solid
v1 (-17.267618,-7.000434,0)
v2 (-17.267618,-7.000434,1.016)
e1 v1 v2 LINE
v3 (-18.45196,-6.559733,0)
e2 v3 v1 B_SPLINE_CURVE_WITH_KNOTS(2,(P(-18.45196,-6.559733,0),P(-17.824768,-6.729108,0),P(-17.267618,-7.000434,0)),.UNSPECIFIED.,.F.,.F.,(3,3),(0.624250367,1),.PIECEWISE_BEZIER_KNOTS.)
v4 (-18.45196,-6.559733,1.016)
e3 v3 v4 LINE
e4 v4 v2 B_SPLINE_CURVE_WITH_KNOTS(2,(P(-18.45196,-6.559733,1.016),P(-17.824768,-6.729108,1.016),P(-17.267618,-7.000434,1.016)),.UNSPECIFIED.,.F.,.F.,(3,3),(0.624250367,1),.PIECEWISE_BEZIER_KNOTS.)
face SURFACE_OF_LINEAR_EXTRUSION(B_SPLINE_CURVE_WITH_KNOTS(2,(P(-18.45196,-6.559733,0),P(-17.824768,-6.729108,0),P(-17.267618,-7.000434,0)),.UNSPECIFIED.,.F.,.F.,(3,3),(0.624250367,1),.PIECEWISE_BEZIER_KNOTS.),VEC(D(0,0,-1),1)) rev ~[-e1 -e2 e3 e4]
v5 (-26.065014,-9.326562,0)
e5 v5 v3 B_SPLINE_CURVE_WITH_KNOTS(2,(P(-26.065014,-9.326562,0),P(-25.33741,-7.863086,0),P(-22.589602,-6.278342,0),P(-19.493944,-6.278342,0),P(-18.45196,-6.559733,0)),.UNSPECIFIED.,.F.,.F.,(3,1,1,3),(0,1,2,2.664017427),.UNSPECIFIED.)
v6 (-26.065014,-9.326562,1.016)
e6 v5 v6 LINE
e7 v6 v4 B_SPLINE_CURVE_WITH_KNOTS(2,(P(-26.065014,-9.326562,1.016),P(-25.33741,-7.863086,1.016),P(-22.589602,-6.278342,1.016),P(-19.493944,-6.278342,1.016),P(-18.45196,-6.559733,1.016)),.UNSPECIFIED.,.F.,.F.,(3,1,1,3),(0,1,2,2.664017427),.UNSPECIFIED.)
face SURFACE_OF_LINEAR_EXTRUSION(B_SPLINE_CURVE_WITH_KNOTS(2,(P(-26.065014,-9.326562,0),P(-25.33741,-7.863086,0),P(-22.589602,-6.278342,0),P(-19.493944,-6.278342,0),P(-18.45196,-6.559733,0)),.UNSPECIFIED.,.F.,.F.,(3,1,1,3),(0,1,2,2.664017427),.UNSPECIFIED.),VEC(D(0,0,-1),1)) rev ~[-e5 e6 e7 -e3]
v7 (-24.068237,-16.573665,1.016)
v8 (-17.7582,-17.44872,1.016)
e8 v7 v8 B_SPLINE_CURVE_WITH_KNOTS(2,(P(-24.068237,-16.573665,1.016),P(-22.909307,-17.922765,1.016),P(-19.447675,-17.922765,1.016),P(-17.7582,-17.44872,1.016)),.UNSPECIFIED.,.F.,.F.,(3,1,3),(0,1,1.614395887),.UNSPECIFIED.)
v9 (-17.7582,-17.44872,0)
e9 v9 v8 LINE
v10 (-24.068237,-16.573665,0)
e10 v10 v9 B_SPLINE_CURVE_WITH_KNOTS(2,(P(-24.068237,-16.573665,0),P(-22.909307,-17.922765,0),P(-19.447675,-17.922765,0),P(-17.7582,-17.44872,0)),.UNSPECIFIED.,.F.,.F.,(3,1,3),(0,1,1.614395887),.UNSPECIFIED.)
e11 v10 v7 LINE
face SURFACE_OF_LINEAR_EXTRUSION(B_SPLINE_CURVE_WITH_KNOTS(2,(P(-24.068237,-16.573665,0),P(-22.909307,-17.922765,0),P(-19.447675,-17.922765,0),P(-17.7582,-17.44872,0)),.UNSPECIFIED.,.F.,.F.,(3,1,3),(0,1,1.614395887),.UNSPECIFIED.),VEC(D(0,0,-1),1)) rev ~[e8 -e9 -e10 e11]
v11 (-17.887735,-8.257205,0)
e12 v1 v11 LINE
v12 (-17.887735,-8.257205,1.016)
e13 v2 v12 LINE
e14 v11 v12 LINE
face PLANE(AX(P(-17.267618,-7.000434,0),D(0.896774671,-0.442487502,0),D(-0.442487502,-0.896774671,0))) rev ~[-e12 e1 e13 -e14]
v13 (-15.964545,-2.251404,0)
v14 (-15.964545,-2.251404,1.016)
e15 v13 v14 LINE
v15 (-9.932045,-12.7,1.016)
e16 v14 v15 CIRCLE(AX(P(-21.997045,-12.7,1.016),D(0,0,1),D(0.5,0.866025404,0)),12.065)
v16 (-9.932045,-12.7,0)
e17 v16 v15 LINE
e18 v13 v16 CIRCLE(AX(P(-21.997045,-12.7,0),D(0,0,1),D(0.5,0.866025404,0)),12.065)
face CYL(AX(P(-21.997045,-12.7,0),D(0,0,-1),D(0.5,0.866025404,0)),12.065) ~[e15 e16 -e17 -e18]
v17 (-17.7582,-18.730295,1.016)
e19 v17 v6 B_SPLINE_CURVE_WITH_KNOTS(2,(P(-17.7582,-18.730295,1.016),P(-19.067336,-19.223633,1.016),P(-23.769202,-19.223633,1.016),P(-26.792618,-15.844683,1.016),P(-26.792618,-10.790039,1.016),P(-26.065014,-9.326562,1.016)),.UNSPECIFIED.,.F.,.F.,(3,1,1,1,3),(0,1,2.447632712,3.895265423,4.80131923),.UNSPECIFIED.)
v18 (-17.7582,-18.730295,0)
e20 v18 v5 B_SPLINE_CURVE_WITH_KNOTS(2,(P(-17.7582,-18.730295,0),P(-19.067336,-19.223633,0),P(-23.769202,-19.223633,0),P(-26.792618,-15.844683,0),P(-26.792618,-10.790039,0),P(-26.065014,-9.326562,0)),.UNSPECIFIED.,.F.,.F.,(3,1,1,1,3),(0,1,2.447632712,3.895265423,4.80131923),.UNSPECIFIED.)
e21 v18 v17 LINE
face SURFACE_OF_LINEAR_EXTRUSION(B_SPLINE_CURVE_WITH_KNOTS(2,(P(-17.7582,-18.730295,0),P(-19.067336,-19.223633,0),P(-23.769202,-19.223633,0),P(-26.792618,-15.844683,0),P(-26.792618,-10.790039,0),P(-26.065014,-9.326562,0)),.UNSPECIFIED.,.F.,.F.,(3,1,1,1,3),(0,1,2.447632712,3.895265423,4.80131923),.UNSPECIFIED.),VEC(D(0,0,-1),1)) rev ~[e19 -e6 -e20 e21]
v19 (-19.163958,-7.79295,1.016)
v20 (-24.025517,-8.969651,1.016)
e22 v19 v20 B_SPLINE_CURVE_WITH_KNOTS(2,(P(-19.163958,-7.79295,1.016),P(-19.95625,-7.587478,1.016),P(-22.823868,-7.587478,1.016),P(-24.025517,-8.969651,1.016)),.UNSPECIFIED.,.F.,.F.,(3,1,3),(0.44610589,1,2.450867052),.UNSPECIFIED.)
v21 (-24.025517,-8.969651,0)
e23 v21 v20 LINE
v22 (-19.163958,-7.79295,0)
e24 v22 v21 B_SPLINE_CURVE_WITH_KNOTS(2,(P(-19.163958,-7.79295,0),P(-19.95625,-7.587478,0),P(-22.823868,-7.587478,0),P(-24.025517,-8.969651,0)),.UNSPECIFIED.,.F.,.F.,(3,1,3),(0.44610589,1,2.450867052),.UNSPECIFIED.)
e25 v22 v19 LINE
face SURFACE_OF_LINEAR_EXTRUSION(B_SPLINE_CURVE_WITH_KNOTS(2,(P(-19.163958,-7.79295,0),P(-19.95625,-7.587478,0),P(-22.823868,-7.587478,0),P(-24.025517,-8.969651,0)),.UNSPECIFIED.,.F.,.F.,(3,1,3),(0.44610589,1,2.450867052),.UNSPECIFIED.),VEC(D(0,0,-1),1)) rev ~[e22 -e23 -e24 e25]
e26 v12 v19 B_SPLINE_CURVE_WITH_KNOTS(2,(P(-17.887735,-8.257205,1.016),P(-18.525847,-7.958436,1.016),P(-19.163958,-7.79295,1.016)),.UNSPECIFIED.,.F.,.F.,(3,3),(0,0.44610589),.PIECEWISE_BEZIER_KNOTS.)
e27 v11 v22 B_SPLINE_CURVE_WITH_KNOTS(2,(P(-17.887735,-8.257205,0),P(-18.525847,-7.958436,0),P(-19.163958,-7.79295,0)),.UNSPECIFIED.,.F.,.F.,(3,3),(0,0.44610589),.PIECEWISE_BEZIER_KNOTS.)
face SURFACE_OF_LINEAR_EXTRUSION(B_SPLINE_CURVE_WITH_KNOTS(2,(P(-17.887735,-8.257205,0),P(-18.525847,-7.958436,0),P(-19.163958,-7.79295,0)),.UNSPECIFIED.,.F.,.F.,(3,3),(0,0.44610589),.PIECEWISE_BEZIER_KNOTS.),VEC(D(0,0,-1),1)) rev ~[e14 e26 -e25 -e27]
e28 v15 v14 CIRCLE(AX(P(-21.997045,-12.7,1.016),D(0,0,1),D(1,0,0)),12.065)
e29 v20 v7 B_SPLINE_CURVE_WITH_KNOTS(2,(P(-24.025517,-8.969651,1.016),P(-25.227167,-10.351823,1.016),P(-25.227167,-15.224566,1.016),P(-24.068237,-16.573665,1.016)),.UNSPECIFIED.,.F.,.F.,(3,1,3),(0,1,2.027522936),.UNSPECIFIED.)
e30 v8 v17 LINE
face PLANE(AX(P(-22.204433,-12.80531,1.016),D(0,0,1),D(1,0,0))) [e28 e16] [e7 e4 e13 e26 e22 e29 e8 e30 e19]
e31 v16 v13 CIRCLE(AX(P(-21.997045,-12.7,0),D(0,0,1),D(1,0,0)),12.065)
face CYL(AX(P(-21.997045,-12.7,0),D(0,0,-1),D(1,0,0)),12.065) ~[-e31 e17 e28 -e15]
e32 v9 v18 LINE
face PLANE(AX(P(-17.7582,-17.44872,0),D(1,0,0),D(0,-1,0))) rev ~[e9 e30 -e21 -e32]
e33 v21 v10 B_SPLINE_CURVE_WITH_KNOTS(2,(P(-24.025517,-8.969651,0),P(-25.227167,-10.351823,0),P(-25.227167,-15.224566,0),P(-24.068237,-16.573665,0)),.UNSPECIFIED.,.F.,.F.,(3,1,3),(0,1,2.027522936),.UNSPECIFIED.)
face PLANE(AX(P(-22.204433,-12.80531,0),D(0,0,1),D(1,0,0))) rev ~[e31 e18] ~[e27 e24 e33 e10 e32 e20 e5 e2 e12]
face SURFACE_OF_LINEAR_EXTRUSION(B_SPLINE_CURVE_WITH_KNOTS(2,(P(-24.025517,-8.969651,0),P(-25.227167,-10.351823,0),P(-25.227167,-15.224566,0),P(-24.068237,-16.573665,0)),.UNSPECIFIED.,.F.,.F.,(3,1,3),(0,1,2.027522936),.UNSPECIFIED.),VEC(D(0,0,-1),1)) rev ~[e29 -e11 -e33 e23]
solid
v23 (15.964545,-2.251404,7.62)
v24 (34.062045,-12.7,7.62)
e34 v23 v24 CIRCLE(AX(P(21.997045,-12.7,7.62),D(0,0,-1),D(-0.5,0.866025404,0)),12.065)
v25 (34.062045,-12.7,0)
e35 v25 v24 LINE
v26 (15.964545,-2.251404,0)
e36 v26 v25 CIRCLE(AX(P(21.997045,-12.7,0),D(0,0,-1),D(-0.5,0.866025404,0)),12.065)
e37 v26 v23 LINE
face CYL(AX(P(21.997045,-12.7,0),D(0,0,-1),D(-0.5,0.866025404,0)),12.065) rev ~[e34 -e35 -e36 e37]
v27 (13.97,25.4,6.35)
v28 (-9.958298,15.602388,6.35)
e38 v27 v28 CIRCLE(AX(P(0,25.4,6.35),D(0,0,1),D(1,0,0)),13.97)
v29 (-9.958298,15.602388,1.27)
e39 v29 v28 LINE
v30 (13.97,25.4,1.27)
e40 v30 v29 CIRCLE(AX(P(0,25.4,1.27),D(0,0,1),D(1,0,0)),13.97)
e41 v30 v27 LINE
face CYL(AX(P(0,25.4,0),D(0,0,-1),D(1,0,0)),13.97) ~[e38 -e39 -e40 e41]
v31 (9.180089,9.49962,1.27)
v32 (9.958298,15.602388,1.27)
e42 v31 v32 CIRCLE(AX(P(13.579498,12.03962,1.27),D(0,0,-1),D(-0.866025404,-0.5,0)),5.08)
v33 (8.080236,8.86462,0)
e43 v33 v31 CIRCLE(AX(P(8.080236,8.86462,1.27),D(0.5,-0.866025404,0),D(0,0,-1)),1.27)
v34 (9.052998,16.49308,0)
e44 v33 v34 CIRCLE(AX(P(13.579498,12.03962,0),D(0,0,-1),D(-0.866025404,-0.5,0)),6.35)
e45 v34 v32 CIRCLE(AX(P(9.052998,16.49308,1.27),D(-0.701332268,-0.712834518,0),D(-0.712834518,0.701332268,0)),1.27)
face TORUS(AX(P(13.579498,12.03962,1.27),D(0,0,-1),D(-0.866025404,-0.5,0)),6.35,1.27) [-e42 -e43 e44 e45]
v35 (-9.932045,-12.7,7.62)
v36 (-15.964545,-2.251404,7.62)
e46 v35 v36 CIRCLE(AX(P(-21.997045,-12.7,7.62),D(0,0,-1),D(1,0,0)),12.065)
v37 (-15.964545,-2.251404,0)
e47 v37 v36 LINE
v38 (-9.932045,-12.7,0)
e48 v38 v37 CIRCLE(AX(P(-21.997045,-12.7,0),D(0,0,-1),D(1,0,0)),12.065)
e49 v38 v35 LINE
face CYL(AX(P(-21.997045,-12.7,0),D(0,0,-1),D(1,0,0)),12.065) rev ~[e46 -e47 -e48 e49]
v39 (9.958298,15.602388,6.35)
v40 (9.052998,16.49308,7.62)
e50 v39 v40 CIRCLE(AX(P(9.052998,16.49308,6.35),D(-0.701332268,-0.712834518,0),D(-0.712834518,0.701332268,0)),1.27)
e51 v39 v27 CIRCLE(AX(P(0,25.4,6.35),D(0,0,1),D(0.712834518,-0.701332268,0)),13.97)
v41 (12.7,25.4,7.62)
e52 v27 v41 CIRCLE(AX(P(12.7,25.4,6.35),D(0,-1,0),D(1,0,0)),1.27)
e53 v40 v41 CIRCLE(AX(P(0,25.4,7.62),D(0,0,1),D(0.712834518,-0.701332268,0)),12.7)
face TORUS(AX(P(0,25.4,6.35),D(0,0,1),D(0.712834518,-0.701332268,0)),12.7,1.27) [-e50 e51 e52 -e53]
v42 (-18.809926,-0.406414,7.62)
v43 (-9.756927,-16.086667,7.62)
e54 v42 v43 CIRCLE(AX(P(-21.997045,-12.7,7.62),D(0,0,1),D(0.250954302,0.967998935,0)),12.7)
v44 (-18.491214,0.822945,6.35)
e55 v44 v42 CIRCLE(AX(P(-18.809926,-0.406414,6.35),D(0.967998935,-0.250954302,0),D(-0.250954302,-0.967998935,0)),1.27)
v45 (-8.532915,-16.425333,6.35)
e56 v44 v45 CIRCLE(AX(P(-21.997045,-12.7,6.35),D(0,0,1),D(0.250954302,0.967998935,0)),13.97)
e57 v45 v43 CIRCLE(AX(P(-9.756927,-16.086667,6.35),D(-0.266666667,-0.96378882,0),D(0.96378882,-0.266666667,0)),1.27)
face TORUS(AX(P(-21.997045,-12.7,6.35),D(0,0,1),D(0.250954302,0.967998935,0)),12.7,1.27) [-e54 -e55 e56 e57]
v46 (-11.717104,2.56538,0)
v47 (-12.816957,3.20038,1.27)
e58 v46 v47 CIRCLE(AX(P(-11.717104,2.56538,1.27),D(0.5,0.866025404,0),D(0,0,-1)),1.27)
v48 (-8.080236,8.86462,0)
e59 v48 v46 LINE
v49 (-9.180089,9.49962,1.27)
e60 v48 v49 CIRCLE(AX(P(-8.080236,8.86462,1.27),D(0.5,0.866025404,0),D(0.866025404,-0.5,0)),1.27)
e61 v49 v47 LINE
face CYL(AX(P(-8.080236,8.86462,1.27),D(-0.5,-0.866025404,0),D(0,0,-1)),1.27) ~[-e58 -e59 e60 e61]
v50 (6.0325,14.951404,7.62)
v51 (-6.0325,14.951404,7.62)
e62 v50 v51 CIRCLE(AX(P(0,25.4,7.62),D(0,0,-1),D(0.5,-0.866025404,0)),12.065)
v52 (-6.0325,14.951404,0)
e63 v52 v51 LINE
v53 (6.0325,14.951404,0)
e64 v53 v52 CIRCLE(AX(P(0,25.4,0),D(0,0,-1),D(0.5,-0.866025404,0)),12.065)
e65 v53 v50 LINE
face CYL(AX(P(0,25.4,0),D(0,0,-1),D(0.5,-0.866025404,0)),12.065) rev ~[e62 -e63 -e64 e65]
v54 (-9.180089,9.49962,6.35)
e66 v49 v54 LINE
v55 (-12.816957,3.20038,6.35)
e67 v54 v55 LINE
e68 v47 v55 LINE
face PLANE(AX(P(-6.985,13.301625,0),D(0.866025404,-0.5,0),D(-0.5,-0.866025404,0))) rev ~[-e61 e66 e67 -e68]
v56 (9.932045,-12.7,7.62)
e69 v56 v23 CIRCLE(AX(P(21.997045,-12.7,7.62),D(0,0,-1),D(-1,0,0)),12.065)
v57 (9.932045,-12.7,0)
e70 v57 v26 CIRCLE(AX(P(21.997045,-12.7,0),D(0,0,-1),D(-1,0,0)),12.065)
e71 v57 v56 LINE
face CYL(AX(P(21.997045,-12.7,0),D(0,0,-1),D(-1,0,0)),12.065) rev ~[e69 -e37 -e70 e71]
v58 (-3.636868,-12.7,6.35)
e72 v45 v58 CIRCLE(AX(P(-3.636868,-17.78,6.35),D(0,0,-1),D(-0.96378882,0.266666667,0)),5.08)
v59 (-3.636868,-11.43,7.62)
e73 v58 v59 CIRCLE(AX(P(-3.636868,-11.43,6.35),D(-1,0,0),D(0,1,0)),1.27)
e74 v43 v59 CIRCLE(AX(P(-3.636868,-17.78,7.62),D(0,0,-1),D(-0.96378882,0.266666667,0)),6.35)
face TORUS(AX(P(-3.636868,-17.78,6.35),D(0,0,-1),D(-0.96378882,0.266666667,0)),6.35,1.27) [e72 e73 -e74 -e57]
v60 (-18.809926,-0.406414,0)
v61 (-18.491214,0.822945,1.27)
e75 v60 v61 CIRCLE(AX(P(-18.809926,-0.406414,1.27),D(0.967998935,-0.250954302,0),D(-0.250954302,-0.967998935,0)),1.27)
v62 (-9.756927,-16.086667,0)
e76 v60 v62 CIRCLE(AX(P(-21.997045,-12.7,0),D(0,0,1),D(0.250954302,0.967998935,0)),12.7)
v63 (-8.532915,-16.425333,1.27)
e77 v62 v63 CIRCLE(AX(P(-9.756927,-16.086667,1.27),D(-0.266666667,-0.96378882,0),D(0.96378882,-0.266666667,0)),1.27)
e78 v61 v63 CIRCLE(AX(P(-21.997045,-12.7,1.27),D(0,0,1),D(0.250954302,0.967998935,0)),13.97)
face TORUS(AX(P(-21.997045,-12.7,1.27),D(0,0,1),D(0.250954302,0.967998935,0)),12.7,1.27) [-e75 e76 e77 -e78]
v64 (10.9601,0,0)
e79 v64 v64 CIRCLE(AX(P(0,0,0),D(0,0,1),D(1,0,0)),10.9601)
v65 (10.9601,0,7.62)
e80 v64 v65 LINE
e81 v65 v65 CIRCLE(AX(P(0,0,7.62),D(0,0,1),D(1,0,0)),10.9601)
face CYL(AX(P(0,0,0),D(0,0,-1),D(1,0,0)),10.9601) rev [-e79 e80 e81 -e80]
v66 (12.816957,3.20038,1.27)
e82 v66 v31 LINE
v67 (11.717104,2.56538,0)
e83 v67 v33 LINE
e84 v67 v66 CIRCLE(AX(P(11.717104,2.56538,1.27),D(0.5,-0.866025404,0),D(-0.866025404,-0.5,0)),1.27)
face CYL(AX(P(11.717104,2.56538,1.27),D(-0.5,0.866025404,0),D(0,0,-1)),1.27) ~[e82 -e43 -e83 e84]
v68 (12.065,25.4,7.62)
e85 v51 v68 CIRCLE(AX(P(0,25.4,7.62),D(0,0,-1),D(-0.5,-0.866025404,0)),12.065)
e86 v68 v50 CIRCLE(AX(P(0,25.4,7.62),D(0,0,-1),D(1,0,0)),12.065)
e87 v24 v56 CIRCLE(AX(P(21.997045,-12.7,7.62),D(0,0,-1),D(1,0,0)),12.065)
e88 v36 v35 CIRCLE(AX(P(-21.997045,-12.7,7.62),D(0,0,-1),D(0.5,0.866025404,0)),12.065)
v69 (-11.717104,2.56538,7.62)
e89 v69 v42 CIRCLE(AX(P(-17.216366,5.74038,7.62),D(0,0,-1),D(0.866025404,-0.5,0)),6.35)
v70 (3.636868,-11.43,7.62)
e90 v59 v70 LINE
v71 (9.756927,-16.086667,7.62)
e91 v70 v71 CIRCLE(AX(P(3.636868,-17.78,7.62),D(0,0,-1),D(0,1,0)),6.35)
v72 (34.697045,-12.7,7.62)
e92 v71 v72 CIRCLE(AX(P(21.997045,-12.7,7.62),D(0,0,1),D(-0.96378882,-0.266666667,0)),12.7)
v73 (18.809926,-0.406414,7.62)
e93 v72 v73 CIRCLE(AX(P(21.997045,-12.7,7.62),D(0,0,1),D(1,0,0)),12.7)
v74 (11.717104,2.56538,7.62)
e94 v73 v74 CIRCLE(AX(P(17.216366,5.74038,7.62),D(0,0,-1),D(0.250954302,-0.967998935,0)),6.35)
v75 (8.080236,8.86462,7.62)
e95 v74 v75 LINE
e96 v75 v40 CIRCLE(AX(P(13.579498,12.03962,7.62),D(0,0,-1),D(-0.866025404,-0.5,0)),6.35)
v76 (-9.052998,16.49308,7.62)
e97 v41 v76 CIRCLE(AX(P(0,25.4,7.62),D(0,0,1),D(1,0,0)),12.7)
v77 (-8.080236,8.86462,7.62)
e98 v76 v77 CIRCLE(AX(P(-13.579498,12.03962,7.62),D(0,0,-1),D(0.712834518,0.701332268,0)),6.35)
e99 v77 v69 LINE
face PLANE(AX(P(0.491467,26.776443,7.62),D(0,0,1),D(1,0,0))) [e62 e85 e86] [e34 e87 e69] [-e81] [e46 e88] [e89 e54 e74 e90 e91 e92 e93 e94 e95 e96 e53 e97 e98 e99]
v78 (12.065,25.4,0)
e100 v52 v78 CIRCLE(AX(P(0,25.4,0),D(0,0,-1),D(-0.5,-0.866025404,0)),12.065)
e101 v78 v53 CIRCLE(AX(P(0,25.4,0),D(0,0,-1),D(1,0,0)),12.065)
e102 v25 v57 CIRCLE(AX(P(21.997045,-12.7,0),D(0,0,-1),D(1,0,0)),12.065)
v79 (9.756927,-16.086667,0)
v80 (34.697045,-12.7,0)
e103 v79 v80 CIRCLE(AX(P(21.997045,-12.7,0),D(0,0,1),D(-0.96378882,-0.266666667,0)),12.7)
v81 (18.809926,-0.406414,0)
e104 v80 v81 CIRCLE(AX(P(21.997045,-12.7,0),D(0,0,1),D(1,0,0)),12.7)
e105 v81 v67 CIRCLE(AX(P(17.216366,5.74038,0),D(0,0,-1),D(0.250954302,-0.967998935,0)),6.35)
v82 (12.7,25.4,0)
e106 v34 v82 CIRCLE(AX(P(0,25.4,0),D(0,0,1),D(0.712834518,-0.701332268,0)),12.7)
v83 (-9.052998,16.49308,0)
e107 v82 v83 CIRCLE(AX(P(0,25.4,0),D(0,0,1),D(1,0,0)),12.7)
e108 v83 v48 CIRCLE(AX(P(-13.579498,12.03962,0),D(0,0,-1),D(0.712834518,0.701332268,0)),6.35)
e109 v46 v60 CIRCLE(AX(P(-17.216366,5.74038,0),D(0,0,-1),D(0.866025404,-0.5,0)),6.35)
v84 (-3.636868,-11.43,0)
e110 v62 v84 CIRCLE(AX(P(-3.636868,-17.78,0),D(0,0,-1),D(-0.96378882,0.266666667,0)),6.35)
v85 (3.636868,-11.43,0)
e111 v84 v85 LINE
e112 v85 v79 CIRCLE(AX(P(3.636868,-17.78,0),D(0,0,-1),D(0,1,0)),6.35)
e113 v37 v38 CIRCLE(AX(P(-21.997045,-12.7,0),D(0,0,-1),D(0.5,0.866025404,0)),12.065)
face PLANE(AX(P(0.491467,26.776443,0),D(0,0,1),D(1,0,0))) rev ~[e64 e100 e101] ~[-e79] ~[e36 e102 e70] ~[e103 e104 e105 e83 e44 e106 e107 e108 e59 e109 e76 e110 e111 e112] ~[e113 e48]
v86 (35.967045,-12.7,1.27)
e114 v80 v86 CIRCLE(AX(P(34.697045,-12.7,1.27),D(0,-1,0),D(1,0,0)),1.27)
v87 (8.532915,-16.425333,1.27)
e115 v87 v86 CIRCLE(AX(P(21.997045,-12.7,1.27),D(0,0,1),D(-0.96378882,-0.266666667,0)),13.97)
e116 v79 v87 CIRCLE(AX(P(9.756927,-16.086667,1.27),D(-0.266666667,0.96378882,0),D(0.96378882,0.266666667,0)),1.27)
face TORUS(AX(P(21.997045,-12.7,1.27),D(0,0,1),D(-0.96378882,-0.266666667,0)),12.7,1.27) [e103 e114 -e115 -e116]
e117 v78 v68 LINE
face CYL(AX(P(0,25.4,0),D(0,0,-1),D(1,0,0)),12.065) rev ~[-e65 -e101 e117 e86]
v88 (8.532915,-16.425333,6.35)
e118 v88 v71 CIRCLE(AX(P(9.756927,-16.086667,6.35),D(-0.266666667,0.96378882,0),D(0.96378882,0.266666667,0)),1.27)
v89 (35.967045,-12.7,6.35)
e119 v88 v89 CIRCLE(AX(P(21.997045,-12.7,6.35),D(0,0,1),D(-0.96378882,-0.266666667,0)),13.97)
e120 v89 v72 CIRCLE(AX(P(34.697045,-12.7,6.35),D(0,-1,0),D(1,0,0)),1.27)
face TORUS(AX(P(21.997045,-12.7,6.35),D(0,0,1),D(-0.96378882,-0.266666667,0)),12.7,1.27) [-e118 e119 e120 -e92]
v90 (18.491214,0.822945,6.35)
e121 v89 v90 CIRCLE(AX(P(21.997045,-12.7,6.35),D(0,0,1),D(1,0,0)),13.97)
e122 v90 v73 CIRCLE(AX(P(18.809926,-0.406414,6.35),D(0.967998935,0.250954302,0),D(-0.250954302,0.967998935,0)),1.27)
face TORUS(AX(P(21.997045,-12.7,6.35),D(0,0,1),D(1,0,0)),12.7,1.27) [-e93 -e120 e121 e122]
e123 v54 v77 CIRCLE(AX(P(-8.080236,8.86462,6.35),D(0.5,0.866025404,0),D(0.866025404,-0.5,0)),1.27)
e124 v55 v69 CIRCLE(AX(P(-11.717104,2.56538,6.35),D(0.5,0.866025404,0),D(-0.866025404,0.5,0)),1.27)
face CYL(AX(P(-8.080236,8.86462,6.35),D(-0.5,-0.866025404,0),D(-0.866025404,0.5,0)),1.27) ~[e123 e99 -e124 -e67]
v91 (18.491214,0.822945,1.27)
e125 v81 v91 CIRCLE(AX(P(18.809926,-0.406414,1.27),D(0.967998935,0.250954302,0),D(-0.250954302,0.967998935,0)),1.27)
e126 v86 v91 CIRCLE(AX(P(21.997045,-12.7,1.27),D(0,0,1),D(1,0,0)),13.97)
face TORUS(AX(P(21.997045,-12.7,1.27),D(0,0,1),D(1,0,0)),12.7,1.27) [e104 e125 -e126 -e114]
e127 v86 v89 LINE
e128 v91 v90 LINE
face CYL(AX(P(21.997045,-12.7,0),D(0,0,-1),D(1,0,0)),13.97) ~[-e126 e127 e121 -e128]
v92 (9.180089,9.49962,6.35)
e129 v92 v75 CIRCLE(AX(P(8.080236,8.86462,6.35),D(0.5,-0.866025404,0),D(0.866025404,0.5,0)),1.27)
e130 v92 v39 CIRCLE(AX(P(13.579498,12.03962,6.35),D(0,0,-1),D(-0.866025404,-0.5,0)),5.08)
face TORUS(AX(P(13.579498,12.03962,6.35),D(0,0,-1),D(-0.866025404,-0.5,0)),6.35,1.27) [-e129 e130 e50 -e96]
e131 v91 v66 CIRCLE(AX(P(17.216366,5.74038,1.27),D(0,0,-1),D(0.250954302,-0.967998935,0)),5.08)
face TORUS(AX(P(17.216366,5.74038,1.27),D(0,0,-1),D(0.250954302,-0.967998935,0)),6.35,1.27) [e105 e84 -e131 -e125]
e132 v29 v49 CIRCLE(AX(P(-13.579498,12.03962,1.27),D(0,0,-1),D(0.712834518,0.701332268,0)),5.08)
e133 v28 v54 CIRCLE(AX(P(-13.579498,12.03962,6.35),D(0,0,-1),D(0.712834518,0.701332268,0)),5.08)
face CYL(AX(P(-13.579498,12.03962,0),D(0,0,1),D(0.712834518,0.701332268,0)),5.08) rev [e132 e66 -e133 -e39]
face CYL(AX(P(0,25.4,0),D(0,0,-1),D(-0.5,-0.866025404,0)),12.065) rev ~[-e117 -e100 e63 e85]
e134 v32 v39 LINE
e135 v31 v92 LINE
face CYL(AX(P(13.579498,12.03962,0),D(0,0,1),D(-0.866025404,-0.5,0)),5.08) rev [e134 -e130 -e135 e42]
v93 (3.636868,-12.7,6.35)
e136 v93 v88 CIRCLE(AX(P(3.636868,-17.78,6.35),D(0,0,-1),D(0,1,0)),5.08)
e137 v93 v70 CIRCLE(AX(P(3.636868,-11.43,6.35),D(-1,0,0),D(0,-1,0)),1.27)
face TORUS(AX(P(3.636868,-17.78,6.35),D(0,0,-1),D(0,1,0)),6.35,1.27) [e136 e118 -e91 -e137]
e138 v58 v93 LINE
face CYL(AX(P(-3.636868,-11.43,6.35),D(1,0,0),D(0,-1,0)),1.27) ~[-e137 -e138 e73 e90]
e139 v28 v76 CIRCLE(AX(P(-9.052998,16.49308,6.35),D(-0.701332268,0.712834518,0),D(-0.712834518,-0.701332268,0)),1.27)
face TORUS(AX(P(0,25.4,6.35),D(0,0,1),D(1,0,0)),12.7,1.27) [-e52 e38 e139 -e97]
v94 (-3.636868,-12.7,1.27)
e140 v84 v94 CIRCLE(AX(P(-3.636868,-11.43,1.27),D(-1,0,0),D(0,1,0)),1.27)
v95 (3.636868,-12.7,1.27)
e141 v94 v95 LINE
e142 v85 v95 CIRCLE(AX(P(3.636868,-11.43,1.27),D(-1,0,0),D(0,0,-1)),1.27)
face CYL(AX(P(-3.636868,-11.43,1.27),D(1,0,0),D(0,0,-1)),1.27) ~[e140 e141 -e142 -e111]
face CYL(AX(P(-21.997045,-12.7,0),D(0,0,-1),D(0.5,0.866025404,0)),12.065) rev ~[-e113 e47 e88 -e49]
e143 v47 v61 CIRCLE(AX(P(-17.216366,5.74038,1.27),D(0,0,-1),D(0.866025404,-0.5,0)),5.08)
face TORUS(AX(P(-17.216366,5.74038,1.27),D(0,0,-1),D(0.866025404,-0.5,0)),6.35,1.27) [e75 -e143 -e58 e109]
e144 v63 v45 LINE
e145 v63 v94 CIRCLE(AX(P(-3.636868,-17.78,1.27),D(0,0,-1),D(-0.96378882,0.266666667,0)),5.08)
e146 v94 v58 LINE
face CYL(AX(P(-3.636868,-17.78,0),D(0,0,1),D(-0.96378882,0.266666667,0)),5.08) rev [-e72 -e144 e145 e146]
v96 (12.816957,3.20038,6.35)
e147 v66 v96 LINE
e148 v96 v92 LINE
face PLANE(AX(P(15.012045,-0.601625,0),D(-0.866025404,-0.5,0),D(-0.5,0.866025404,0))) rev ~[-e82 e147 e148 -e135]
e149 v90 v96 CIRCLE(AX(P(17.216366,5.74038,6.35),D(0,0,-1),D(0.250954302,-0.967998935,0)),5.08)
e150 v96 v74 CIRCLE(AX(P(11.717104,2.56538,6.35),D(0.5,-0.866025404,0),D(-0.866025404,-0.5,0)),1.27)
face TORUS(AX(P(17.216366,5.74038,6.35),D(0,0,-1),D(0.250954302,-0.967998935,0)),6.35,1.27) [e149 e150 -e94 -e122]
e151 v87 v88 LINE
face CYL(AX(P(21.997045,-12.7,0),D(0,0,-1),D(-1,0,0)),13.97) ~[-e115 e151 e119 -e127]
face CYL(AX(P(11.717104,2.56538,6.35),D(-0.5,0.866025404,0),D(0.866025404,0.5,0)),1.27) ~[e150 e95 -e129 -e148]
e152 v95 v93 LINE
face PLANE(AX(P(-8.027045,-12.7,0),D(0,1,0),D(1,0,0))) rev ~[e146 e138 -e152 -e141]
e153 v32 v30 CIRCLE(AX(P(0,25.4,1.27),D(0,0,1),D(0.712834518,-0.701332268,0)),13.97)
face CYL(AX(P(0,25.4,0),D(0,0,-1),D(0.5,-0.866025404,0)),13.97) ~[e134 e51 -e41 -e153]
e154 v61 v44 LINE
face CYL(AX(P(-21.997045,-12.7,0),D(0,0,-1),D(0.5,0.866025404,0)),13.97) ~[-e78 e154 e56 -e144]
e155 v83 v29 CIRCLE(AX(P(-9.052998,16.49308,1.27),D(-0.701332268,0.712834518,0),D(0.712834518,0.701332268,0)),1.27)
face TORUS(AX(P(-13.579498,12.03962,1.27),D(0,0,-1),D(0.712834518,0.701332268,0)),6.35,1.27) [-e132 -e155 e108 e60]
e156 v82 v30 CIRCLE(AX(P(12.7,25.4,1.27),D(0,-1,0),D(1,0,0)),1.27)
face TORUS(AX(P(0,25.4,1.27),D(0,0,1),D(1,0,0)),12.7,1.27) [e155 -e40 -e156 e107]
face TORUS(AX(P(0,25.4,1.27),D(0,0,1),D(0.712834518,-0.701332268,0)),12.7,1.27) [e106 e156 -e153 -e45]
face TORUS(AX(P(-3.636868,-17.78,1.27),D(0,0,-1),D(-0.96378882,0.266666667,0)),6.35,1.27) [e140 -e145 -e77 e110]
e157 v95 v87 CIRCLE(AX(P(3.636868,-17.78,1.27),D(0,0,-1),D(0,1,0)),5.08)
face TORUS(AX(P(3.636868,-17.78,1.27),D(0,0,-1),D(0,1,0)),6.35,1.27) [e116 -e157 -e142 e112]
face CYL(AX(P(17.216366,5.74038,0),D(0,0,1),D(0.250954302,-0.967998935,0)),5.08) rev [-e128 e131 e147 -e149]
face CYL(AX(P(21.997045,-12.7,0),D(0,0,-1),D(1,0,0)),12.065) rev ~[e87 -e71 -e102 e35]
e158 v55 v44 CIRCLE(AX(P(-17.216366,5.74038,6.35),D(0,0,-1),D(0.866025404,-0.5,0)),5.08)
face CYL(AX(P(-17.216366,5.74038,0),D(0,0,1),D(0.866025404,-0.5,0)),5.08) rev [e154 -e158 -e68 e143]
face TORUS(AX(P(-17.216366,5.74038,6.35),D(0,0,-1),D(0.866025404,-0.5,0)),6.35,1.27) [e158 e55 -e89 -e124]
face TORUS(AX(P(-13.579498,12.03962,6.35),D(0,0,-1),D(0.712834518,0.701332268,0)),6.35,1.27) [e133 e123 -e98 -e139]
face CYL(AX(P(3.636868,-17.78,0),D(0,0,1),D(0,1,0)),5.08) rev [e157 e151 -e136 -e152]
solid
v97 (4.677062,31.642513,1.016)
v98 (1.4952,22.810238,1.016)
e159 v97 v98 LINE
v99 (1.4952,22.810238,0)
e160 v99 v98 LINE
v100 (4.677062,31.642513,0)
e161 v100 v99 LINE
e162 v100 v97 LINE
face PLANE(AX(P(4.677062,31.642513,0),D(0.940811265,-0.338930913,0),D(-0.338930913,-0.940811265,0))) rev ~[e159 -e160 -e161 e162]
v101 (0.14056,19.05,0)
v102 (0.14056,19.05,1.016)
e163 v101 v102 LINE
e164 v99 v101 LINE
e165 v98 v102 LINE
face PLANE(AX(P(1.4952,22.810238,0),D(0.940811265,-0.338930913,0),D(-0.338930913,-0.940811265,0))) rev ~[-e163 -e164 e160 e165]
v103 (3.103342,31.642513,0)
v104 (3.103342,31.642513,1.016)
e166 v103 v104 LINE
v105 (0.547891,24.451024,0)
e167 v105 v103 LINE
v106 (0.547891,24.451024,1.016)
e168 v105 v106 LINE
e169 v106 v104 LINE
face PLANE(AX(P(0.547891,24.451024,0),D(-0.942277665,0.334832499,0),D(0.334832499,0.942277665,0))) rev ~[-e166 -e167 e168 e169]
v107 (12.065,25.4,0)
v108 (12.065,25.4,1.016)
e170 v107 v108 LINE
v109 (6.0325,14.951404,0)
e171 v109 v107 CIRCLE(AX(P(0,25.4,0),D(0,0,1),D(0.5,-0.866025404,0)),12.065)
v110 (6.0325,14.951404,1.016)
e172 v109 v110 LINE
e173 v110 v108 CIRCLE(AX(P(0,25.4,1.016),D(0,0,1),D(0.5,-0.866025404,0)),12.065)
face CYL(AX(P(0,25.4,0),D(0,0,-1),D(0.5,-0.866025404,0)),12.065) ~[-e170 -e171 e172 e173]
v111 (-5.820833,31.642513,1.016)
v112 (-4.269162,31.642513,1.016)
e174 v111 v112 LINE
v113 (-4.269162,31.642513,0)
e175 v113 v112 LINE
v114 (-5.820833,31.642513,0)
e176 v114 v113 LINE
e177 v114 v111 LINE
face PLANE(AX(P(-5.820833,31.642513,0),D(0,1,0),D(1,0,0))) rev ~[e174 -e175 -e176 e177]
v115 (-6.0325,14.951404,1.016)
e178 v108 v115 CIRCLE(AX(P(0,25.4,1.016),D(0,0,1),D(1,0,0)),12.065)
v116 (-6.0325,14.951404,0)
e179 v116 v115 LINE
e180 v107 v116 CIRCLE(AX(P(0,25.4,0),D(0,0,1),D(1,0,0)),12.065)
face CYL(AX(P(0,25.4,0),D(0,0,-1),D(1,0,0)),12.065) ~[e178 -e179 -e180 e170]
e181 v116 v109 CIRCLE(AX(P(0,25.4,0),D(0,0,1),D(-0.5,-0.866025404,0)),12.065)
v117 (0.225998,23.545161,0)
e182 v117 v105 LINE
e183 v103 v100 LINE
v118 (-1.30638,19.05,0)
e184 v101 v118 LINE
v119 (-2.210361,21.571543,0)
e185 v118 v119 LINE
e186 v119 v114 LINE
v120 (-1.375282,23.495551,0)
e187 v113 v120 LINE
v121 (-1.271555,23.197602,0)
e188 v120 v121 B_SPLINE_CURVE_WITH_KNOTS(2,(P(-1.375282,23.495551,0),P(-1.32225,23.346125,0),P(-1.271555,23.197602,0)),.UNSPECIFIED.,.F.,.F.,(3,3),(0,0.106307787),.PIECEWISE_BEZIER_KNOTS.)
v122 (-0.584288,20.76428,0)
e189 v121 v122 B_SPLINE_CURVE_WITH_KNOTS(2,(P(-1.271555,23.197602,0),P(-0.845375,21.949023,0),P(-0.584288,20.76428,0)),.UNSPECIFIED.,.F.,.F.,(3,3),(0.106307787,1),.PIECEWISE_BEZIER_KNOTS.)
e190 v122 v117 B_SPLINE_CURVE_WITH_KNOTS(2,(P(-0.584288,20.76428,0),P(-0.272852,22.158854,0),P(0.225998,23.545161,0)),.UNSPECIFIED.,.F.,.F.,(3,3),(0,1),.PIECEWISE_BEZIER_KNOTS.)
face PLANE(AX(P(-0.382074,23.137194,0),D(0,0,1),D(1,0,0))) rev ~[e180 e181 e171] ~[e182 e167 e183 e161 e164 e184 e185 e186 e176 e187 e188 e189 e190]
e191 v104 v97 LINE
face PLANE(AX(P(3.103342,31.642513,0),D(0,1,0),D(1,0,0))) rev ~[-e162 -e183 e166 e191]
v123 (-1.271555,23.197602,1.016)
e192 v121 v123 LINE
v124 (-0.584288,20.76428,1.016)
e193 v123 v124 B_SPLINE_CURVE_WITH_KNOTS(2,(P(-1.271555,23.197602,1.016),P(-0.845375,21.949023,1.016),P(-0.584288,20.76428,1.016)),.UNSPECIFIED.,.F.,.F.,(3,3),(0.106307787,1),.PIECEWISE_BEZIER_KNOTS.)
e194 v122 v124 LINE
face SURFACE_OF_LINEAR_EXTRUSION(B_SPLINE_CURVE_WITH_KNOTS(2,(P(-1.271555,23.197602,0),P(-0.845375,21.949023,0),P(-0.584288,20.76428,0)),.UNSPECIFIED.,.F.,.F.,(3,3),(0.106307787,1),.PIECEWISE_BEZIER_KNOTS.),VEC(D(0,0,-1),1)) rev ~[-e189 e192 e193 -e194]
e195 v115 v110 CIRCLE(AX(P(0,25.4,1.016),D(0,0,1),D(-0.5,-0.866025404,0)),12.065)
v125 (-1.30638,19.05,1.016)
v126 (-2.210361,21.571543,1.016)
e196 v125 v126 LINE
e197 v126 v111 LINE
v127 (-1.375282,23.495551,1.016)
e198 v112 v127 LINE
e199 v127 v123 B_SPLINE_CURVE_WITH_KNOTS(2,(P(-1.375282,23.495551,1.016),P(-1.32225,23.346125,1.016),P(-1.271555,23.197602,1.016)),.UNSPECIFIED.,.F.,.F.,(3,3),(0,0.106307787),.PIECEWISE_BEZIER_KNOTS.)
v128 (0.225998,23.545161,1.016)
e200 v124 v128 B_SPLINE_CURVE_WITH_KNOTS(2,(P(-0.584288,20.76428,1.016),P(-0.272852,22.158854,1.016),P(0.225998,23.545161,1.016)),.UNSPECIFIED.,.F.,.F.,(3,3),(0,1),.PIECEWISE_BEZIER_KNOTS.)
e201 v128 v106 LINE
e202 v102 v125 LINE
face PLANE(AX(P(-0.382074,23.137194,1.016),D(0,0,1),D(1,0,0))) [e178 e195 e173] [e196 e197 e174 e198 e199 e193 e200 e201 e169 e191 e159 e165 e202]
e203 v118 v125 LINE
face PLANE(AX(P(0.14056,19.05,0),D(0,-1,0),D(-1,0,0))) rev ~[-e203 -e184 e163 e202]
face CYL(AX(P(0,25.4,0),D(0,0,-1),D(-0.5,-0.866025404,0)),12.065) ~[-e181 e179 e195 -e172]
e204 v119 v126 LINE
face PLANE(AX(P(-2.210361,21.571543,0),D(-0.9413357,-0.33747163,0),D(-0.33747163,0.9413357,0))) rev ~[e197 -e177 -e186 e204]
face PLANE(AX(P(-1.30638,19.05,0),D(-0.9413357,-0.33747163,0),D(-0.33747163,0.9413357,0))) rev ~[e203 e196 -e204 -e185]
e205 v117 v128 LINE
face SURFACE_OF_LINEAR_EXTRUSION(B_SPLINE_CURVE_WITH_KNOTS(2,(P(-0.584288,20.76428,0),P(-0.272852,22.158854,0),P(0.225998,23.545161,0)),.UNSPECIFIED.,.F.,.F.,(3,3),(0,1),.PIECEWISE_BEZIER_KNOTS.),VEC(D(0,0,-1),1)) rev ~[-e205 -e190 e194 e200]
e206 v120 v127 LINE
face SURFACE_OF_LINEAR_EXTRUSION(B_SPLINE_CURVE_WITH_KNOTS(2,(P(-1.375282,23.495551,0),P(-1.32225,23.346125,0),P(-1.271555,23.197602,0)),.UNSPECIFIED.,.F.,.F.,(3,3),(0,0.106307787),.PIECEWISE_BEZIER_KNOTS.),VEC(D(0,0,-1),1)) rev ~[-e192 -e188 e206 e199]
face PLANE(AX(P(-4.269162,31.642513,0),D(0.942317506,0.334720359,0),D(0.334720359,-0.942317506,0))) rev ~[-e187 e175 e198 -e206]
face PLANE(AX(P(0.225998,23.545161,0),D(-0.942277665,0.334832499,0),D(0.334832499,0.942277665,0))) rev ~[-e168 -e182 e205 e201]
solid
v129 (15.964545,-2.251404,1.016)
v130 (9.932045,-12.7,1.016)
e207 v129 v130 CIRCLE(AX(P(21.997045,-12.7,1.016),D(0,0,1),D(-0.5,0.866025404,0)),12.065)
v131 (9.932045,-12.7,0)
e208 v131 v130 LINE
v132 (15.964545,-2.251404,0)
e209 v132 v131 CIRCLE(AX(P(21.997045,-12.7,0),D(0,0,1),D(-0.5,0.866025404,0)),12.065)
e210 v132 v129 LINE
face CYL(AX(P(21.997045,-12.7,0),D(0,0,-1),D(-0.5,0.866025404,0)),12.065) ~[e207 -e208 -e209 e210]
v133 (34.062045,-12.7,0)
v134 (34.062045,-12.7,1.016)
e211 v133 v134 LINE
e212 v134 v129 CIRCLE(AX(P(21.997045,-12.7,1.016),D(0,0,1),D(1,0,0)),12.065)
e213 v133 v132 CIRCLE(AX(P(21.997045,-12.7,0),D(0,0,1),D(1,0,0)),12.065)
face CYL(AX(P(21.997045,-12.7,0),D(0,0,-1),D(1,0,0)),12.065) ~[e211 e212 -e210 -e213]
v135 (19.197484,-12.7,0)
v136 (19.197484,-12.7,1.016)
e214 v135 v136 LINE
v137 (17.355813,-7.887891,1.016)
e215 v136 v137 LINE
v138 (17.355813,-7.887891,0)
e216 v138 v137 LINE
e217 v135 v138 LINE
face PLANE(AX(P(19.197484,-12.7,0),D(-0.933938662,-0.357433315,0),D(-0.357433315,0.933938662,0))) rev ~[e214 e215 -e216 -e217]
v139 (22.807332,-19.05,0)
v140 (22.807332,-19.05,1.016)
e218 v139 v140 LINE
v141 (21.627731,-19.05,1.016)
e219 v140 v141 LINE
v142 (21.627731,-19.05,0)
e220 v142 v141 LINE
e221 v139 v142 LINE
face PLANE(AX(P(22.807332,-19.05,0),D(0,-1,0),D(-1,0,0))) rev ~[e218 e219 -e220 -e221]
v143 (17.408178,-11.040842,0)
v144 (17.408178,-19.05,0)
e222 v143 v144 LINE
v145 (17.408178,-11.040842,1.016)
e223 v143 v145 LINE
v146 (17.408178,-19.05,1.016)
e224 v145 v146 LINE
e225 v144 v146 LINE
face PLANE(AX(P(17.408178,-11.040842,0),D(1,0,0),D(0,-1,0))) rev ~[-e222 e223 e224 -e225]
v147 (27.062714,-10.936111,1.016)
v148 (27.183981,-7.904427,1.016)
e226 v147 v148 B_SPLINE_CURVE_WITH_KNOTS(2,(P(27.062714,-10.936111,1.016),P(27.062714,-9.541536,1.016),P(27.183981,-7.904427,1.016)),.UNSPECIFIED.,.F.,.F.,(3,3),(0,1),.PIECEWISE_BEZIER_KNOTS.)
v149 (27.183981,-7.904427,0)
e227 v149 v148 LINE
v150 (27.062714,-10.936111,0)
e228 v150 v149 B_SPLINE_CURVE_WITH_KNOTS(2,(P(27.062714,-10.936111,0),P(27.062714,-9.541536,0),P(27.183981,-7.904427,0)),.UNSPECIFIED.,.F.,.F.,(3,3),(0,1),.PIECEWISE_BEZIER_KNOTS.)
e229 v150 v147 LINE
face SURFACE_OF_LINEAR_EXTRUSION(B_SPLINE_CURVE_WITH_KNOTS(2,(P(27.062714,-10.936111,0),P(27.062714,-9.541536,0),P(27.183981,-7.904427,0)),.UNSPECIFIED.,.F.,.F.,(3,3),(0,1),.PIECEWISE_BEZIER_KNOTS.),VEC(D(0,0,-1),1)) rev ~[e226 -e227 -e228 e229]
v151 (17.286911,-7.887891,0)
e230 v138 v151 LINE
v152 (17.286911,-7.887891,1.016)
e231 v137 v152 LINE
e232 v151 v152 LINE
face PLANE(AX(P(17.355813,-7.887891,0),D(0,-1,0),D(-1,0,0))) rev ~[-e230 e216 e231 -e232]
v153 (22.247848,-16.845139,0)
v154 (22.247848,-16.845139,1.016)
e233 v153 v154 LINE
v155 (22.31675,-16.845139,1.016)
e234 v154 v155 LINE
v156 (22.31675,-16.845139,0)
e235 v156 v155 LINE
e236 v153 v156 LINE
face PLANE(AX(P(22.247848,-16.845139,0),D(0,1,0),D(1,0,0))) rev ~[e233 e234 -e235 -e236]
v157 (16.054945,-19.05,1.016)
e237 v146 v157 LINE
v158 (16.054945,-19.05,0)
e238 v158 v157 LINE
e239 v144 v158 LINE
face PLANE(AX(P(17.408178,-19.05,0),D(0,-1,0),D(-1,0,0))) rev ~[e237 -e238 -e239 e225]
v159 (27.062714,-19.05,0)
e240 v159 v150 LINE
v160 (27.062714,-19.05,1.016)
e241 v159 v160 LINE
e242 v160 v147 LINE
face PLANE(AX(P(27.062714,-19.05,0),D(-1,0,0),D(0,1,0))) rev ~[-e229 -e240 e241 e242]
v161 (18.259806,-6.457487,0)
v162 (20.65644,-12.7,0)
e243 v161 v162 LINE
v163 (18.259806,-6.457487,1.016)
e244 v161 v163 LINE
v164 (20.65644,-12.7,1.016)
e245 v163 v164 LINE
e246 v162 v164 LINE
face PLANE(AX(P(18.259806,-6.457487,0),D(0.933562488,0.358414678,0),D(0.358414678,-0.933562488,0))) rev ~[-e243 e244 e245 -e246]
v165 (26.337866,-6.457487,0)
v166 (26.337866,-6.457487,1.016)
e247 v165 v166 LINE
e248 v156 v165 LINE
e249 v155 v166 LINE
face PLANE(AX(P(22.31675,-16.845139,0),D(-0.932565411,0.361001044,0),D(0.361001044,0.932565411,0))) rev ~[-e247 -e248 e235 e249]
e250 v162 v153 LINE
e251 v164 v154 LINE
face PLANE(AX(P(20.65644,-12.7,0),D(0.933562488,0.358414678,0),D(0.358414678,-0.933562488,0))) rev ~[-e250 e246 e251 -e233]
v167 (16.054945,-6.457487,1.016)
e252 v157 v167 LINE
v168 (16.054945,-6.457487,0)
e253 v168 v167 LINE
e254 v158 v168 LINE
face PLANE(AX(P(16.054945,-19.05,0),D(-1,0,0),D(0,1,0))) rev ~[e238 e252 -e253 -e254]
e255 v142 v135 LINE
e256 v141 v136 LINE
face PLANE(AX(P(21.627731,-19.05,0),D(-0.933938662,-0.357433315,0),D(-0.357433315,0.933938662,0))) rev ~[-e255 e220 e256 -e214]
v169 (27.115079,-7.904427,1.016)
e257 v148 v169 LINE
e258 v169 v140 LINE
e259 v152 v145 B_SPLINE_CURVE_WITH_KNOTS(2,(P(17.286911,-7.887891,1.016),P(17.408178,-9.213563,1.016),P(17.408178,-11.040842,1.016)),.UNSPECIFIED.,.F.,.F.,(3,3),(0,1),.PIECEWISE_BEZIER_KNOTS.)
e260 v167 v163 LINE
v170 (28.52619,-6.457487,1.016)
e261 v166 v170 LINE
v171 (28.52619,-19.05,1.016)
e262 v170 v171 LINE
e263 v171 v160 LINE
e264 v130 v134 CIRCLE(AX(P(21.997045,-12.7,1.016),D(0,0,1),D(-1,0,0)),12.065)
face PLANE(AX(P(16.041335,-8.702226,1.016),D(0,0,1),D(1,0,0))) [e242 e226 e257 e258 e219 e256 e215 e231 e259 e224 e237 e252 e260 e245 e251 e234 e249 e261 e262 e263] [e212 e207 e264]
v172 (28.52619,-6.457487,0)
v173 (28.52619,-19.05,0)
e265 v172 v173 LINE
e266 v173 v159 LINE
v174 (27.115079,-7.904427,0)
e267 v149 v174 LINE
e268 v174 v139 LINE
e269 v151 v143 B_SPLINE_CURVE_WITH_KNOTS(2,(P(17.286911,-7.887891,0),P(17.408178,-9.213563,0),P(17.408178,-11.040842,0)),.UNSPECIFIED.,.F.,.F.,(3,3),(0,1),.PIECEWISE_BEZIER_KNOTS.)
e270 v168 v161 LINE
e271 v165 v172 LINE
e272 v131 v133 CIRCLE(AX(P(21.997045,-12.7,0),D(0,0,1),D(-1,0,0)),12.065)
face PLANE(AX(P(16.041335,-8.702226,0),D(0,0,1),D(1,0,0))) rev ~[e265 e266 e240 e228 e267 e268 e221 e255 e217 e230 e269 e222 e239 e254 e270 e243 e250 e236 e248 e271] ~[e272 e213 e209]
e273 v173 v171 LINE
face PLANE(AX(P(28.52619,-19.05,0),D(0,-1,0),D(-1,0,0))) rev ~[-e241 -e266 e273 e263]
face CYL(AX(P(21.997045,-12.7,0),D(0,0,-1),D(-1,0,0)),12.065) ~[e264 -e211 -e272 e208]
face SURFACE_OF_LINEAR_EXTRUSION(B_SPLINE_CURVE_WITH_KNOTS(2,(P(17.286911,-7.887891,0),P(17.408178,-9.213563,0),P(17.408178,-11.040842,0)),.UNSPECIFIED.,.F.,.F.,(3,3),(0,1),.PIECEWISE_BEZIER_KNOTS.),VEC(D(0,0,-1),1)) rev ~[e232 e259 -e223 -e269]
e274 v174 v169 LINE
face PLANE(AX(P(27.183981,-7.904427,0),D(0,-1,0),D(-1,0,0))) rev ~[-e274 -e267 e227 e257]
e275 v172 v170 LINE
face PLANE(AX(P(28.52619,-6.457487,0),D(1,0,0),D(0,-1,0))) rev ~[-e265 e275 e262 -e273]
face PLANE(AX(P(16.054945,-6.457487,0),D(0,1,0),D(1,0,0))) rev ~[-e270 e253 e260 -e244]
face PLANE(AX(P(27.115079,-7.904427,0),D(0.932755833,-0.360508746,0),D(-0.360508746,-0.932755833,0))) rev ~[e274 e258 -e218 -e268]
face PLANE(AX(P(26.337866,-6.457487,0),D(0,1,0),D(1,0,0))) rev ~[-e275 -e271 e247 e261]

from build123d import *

# Parameters (mm, degrees)
F1_DEPTH = 1.016
F0_R     = 10.9601
F2_DEPTH = 7.62
F3_R     = 5.08
F4_R     = 1.27


with BuildPart() as f1:
    # F0 (on Top) → F1 (new body)
    with BuildSketch(Plane.XY):
        with BuildLine():
            ThreePointArc((-15.9645452561, -2.2514035033), (-32.4456417528, -18.7325), (-9.9320452561, -12.7))
            Line((-9.9320452561, -12.7), (-21.9970452561, -12.7))
            Line((-21.9970452561, -12.7), (-19.1639583446, -7.792949527))
            add(Edge.make_bspline(
                [(-19.1639583446, -7.792949527), (-19.9562504983, -7.5874782986), (-20.748542652, -7.5874782986)],
                knots=[0.4461058905, 0.4461058905, 0.4461058905, 1, 1, 1], degree=2))
            add(Edge.make_bspline(
                [(-20.748542652, -7.5874782986), (-22.8238681728, -7.5874782986), (-24.0255174783, -8.9696506076)],
                knots=[0, 0, 0, 1, 1, 1], degree=2))
            add(Edge.make_bspline(
                [(-24.0255174783, -8.9696506076), (-25.2271667839, -10.3518229167), (-25.2271667839, -12.7551215278)],
                knots=[0, 0, 0, 1, 1, 1], degree=2))
            add(Edge.make_bspline(
                [(-25.2271667839, -12.7551215278), (-25.2271667839, -15.2245659722), (-24.0682366624, -16.5736653646)],
                knots=[0, 0, 0, 1, 1, 1], degree=2))
            add(Edge.make_bspline(
                [(-24.0682366624, -16.5736653646), (-22.9093065408, -17.9227647569), (-20.7650791103, -17.9227647569)],
                knots=[0, 0, 0, 1, 1, 1], degree=2))
            add(Edge.make_bspline(
                [(-20.7650791103, -17.9227647569), (-19.4476745964, -17.9227647569), (-17.75819977, -17.4487196181)],
                knots=[0, 0, 0, 1, 1, 1], degree=2))
            Line((-17.75819977, -17.4487196181), (-17.75819977, -18.7302951389))
            add(Edge.make_bspline(
                [(-17.75819977, -18.7302951389), (-19.0673360547, -19.2236328125), (-20.9883212978, -19.2236328125)],
                knots=[0, 0, 0, 1, 1, 1], degree=2))
            add(Edge.make_bspline(
                [(-20.9883212978, -19.2236328125), (-23.7692023742, -19.2236328125), (-25.2809102735, -17.5341579861)],
                knots=[0, 0, 0, 1, 1, 1], degree=2))
            add(Edge.make_bspline(
                [(-25.2809102735, -17.5341579861), (-26.7926181728, -15.8446831597), (-26.7926181728, -12.7358289931)],
                knots=[0, 0, 0, 1, 1, 1], degree=2))
            add(Edge.make_bspline(
                [(-26.7926181728, -12.7358289931), (-26.7926181728, -10.7900390625), (-26.0650140061, -9.3265625)],
                knots=[0, 0, 0, 1, 1, 1], degree=2))
            add(Edge.make_bspline(
                [(-26.0650140061, -9.3265625), (-25.3374098395, -7.8630859375), (-23.9635057596, -7.0707139757)],
                knots=[0, 0, 0, 1, 1, 1], degree=2))
            add(Edge.make_bspline(
                [(-23.9635057596, -7.0707139757), (-22.5896016797, -6.2783420139), (-20.7292501172, -6.2783420139)],
                knots=[0, 0, 0, 1, 1, 1], degree=2))
            add(Edge.make_bspline(
                [(-20.7292501172, -6.2783420139), (-19.4939442592, -6.2783420139), (-18.4519604406, -6.5597329823)],
                knots=[0, 0, 0, 0.6242503667, 0.6242503667, 0.6242503667], degree=2))
            Line((-18.4519604406, -6.5597329823), (-15.9645452561, -2.2514035033))
        make_face()
        with BuildLine():
            Line((-21.9970452561, -12.7), (-9.9320452561, -12.7))
            ThreePointArc((-9.9320452561, -12.7), (-11.5484487595, -6.6675), (-15.9645452561, -2.2514035033))
            Line((-15.9645452561, -2.2514035033), (-18.4519604406, -6.5597329823))
            add(Edge.make_bspline(
                [(-18.4519604406, -6.5597329823), (-17.8247681173, -6.7291082183), (-17.2676181728, -7.0004340278)],
                knots=[0.6242503667, 0.6242503667, 0.6242503667, 1, 1, 1], degree=2))
            Line((-17.2676181728, -7.0004340278), (-17.8877353603, -8.2572048611))
            add(Edge.make_bspline(
                [(-17.8877353603, -8.2572048611), (-18.5258468525, -7.9584358966), (-19.1639583446, -7.792949527)],
                knots=[0, 0, 0, 0.4461058905, 0.4461058905, 0.4461058905], degree=2))
            Line((-19.1639583446, -7.792949527), (-21.9970452561, -12.7))
        make_face()
    extrude(amount=F1_DEPTH)


with BuildPart() as f1b:
    # F0 (on Top) → F1, piece 2 (new body)
    with BuildSketch(Plane.XY):
        with BuildLine():
            ThreePointArc((15.9645452561, -2.2514035033), (11.5484487595, -6.6675), (9.9320452561, -12.7))
            Line((9.9320452561, -12.7), (16.0549445617, -12.7))
            Line((16.0549445617, -12.7), (16.0549445617, -6.4574869792))
            Line((16.0549445617, -6.4574869792), (18.2598056728, -6.4574869792))
            Line((18.2598056728, -6.4574869792), (20.6564404144, -12.7))
            Line((20.6564404144, -12.7), (21.9970452561, -12.7))
            Line((21.9970452561, -12.7), (15.9645452561, -2.2514035033))
        make_face()
        with BuildLine():
            Line((16.0549445617, -12.7), (9.9320452561, -12.7))
            ThreePointArc((9.9320452561, -12.7), (21.9970452561, -24.765), (34.0620452561, -12.7))
            ThreePointArc((34.0620452561, -12.7), (28.0295452561, -2.2514035033), (15.9645452561, -2.2514035033))
            Line((15.9645452561, -2.2514035033), (21.9970452561, -12.7))
            Line((21.9970452561, -12.7), (20.6564404144, -12.7))
            Line((20.6564404144, -12.7), (22.2478482075, -16.8451388889))
            Line((22.2478482075, -16.8451388889), (22.3167501172, -16.8451388889))
            Line((22.3167501172, -16.8451388889), (26.3378655686, -6.4574869792))
            Line((26.3378655686, -6.4574869792), (28.5261902214, -6.4574869792))
            Line((28.5261902214, -6.4574869792), (28.5261902214, -19.05))
            Line((28.5261902214, -19.05), (27.0627136589, -19.05))
            Line((27.0627136589, -19.05), (27.0627136589, -10.9361111111))
            add(Edge.make_bspline(
                [(27.0627136589, -10.9361111111), (27.0627136589, -9.5415364583), (27.18398102, -7.9044270833)],
                knots=[0, 0, 0, 1, 1, 1], degree=2))
            Line((27.18398102, -7.9044270833), (27.1150791103, -7.9044270833))
            Line((27.1150791103, -7.9044270833), (22.8073317145, -19.05))
            Line((22.8073317145, -19.05), (21.62773102, -19.05))
            Line((21.62773102, -19.05), (19.1974841064, -12.7))
            Line((19.1974841064, -12.7), (17.4081780686, -12.7))
            Line((17.4081780686, -12.7), (17.4081780686, -19.05))
            Line((17.4081780686, -19.05), (16.0549445617, -19.05))
            Line((16.0549445617, -19.05), (16.0549445617, -12.7))
        make_face()
        with BuildLine():
            Line((17.4081780686, -11.0408420139), (17.4081780686, -12.7))
            Line((17.4081780686, -12.7), (19.1974841064, -12.7))
            Line((19.1974841064, -12.7), (17.3558126172, -7.887890625))
            Line((17.3558126172, -7.887890625), (17.2869107075, -7.887890625))
            add(Edge.make_bspline(
                [(17.2869107075, -7.887890625), (17.4081780686, -9.2135633681), (17.4081780686, -11.0408420139)],
                knots=[0, 0, 0, 1, 1, 1], degree=2))
        make_face()
    extrude(amount=F1_DEPTH)


with BuildPart() as f1c:
    # F0 (on Top) → F1, piece 3 (new body)
    with BuildSketch(Plane.XY):
        with BuildLine():
            Line((0, 25.4), (-1.2715549286, 23.1976022591))
            add(Edge.make_bspline(
                [(-1.2715549286, 23.1976022591), (-0.8453750991, 21.9490229211), (-0.5842881944, 20.7642795139)],
                knots=[0.1063077872, 0.1063077872, 0.1063077872, 1, 1, 1], degree=2))
            add(Edge.make_bspline(
                [(-0.5842881944, 20.7642795139), (-0.2728515625, 22.1588541667), (0.2259982639, 23.5451605903)],
                knots=[0, 0, 0, 1, 1, 1], degree=2))
            Line((0.2259982639, 23.5451605903), (0.5478913232, 24.4510243912))
            Line((0.5478913232, 24.4510243912), (0, 25.4))
        make_face()
        with BuildLine():
            ThreePointArc((12.065, 25.4), (-6.0325, 35.8485964967), (-6.0325, 14.9514035033))
            Line((-6.0325, 14.9514035033), (-2.2103607688, 21.5715428454))
            Line((-2.2103607688, 21.5715428454), (-5.8208333333, 31.6425130208))
            Line((-5.8208333333, 31.6425130208), (-4.2691623264, 31.6425130208))
            Line((-4.2691623264, 31.6425130208), (-1.3752821181, 23.4955512153))
            add(Edge.make_bspline(
                [(-1.3752821181, 23.4955512153), (-1.3222504969, 23.3461251003), (-1.2715549286, 23.1976022591)],
                knots=[0, 0, 0, 0.1063077872, 0.1063077872, 0.1063077872], degree=2))
            Line((-1.2715549286, 23.1976022591), (0, 25.4))
            Line((0, 25.4), (0.5478913232, 24.4510243912))
            Line((0.5478913232, 24.4510243912), (3.1033420139, 31.6425130208))
            Line((3.1033420139, 31.6425130208), (4.6770616319, 31.6425130208))
            Line((4.6770616319, 31.6425130208), (1.4952000684, 22.8102375141))
            Line((1.4952000684, 22.8102375141), (6.0325, 14.9514035033))
            ThreePointArc((6.0325, 14.9514035033), (10.4485964967, 19.3675), (12.065, 25.4))
        make_face()
        with BuildLine():
            Line((-2.2103607688, 21.5715428454), (-6.0325, 14.9514035033))
            ThreePointArc((-6.0325, 14.9514035033), (0, 13.335), (6.0325, 14.9514035033))
            Line((6.0325, 14.9514035033), (1.4952000684, 22.8102375141))
            Line((1.4952000684, 22.8102375141), (0.1405598958, 19.05))
            Line((0.1405598958, 19.05), (-1.3063802083, 19.05))
            Line((-1.3063802083, 19.05), (-2.2103607688, 21.5715428454))
        make_face()
    extrude(amount=F1_DEPTH)


with BuildPart() as f2:
    # F0 (on Top) → F2 (new body)
    with BuildSketch(Plane.XY):
        with BuildLine():
            ThreePointArc((13.97, 25.4), (-6.985, 37.4983748909), (-6.985, 13.3016251091))
            Line((-6.985, 13.3016251091), (-6.0325, 14.9514035033))
            ThreePointArc((-6.0325, 14.9514035033), (-6.0325, 35.8485964967), (12.065, 25.4))
            ThreePointArc((12.065, 25.4), (10.4485964967, 19.3675), (6.0325, 14.9514035033))
            Line((6.0325, 14.9514035033), (6.985, 13.3016251091))
            ThreePointArc((6.985, 13.3016251091), (12.0983748909, 18.415), (13.97, 25.4))
        make_face()
        with BuildLine():
            ThreePointArc((-15.0120452561, -0.6016251091), (-34.095420147, -19.685), (-8.0270452561, -12.7))
            Line((-8.0270452561, -12.7), (-9.9320452561, -12.7))
            ThreePointArc((-9.9320452561, -12.7), (-32.4456417528, -18.7325), (-15.9645452561, -2.2514035033))
            Line((-15.9645452561, -2.2514035033), (-15.0120452561, -0.6016251091))
        make_face()
        with BuildLine():
            ThreePointArc((15.0120452561, -0.6016251091), (9.8986703653, -5.715), (8.0270452561, -12.7))
            Line((8.0270452561, -12.7), (9.9320452561, -12.7))
            ThreePointArc((9.9320452561, -12.7), (11.5484487595, -6.6675), (15.9645452561, -2.2514035033))
            Line((15.9645452561, -2.2514035033), (15.0120452561, -0.6016251091))
        make_face()
        with BuildLine():
            Line((9.9320452561, -12.7), (8.0270452561, -12.7))
            ThreePointArc((8.0270452561, -12.7), (21.9970452561, -26.67), (35.9670452561, -12.7))
            ThreePointArc((35.9670452561, -12.7), (28.9820452561, -0.6016251091), (15.0120452561, -0.6016251091))
            Line((15.0120452561, -0.6016251091), (15.9645452561, -2.2514035033))
            ThreePointArc((15.9645452561, -2.2514035033), (28.0295452561, -2.2514035033), (34.0620452561, -12.7))
            ThreePointArc((34.0620452561, -12.7), (21.9970452561, -24.765), (9.9320452561, -12.7))
        make_face()
        with BuildLine():
            Line((-9.9320452561, -12.7), (-8.0270452561, -12.7))
            ThreePointArc((-8.0270452561, -12.7), (-9.8986703653, -5.715), (-15.0120452561, -0.6016251091))
            Line((-15.0120452561, -0.6016251091), (-15.9645452561, -2.2514035033))
            ThreePointArc((-15.9645452561, -2.2514035033), (-11.5484487595, -6.6675), (-9.9320452561, -12.7))
        make_face()
        with BuildLine():
            ThreePointArc((-15.0120452561, -0.6016251091), (-9.8986703653, -5.715), (-8.0270452561, -12.7))
            Line((-8.0270452561, -12.7), (8.0270452561, -12.7))
            ThreePointArc((8.0270452561, -12.7), (9.8986703653, -5.715), (15.0120452561, -0.6016251091))
            Line((15.0120452561, -0.6016251091), (6.985, 13.3016251091))
            ThreePointArc((6.985, 13.3016251091), (0, 11.43), (-6.985, 13.3016251091))
            Line((-6.985, 13.3016251091), (-15.0120452561, -0.6016251091))
        make_face()
        Circle(F0_R, mode=Mode.SUBTRACT)
        with BuildLine():
            Line((-6.0325, 14.9514035033), (-6.985, 13.3016251091))
            ThreePointArc((-6.985, 13.3016251091), (0, 11.43), (6.985, 13.3016251091))
            Line((6.985, 13.3016251091), (6.0325, 14.9514035033))
            ThreePointArc((6.0325, 14.9514035033), (0, 13.335), (-6.0325, 14.9514035033))
        make_face()
    extrude(amount=F2_DEPTH)

    # F3
    f3_edges = [f2.edges().sort_by_distance(p)[0] for p in [
        (-15.012045, -0.601625, 3.81),
        (15.012045, -0.601625, 3.81),
        (6.985, 13.301625, 3.81),
        (-6.985, 13.301625, 3.81),
        (8.027045, -12.7, 3.81),
        (-8.027045, -12.7, 3.81),
    ]]
    fillet(f3_edges, radius=F3_R)

    # F4
    f4_edges = [f2.edges().sort_by_distance(p)[0] for p in [
        (0, 39.37, 7.62),
        (-8.540303, 12.682206, 0),
    ]]
    fillet(f4_edges, radius=F4_R)


solid = Compound([f1.part, f1b.part, f1c.part, f2.part])
